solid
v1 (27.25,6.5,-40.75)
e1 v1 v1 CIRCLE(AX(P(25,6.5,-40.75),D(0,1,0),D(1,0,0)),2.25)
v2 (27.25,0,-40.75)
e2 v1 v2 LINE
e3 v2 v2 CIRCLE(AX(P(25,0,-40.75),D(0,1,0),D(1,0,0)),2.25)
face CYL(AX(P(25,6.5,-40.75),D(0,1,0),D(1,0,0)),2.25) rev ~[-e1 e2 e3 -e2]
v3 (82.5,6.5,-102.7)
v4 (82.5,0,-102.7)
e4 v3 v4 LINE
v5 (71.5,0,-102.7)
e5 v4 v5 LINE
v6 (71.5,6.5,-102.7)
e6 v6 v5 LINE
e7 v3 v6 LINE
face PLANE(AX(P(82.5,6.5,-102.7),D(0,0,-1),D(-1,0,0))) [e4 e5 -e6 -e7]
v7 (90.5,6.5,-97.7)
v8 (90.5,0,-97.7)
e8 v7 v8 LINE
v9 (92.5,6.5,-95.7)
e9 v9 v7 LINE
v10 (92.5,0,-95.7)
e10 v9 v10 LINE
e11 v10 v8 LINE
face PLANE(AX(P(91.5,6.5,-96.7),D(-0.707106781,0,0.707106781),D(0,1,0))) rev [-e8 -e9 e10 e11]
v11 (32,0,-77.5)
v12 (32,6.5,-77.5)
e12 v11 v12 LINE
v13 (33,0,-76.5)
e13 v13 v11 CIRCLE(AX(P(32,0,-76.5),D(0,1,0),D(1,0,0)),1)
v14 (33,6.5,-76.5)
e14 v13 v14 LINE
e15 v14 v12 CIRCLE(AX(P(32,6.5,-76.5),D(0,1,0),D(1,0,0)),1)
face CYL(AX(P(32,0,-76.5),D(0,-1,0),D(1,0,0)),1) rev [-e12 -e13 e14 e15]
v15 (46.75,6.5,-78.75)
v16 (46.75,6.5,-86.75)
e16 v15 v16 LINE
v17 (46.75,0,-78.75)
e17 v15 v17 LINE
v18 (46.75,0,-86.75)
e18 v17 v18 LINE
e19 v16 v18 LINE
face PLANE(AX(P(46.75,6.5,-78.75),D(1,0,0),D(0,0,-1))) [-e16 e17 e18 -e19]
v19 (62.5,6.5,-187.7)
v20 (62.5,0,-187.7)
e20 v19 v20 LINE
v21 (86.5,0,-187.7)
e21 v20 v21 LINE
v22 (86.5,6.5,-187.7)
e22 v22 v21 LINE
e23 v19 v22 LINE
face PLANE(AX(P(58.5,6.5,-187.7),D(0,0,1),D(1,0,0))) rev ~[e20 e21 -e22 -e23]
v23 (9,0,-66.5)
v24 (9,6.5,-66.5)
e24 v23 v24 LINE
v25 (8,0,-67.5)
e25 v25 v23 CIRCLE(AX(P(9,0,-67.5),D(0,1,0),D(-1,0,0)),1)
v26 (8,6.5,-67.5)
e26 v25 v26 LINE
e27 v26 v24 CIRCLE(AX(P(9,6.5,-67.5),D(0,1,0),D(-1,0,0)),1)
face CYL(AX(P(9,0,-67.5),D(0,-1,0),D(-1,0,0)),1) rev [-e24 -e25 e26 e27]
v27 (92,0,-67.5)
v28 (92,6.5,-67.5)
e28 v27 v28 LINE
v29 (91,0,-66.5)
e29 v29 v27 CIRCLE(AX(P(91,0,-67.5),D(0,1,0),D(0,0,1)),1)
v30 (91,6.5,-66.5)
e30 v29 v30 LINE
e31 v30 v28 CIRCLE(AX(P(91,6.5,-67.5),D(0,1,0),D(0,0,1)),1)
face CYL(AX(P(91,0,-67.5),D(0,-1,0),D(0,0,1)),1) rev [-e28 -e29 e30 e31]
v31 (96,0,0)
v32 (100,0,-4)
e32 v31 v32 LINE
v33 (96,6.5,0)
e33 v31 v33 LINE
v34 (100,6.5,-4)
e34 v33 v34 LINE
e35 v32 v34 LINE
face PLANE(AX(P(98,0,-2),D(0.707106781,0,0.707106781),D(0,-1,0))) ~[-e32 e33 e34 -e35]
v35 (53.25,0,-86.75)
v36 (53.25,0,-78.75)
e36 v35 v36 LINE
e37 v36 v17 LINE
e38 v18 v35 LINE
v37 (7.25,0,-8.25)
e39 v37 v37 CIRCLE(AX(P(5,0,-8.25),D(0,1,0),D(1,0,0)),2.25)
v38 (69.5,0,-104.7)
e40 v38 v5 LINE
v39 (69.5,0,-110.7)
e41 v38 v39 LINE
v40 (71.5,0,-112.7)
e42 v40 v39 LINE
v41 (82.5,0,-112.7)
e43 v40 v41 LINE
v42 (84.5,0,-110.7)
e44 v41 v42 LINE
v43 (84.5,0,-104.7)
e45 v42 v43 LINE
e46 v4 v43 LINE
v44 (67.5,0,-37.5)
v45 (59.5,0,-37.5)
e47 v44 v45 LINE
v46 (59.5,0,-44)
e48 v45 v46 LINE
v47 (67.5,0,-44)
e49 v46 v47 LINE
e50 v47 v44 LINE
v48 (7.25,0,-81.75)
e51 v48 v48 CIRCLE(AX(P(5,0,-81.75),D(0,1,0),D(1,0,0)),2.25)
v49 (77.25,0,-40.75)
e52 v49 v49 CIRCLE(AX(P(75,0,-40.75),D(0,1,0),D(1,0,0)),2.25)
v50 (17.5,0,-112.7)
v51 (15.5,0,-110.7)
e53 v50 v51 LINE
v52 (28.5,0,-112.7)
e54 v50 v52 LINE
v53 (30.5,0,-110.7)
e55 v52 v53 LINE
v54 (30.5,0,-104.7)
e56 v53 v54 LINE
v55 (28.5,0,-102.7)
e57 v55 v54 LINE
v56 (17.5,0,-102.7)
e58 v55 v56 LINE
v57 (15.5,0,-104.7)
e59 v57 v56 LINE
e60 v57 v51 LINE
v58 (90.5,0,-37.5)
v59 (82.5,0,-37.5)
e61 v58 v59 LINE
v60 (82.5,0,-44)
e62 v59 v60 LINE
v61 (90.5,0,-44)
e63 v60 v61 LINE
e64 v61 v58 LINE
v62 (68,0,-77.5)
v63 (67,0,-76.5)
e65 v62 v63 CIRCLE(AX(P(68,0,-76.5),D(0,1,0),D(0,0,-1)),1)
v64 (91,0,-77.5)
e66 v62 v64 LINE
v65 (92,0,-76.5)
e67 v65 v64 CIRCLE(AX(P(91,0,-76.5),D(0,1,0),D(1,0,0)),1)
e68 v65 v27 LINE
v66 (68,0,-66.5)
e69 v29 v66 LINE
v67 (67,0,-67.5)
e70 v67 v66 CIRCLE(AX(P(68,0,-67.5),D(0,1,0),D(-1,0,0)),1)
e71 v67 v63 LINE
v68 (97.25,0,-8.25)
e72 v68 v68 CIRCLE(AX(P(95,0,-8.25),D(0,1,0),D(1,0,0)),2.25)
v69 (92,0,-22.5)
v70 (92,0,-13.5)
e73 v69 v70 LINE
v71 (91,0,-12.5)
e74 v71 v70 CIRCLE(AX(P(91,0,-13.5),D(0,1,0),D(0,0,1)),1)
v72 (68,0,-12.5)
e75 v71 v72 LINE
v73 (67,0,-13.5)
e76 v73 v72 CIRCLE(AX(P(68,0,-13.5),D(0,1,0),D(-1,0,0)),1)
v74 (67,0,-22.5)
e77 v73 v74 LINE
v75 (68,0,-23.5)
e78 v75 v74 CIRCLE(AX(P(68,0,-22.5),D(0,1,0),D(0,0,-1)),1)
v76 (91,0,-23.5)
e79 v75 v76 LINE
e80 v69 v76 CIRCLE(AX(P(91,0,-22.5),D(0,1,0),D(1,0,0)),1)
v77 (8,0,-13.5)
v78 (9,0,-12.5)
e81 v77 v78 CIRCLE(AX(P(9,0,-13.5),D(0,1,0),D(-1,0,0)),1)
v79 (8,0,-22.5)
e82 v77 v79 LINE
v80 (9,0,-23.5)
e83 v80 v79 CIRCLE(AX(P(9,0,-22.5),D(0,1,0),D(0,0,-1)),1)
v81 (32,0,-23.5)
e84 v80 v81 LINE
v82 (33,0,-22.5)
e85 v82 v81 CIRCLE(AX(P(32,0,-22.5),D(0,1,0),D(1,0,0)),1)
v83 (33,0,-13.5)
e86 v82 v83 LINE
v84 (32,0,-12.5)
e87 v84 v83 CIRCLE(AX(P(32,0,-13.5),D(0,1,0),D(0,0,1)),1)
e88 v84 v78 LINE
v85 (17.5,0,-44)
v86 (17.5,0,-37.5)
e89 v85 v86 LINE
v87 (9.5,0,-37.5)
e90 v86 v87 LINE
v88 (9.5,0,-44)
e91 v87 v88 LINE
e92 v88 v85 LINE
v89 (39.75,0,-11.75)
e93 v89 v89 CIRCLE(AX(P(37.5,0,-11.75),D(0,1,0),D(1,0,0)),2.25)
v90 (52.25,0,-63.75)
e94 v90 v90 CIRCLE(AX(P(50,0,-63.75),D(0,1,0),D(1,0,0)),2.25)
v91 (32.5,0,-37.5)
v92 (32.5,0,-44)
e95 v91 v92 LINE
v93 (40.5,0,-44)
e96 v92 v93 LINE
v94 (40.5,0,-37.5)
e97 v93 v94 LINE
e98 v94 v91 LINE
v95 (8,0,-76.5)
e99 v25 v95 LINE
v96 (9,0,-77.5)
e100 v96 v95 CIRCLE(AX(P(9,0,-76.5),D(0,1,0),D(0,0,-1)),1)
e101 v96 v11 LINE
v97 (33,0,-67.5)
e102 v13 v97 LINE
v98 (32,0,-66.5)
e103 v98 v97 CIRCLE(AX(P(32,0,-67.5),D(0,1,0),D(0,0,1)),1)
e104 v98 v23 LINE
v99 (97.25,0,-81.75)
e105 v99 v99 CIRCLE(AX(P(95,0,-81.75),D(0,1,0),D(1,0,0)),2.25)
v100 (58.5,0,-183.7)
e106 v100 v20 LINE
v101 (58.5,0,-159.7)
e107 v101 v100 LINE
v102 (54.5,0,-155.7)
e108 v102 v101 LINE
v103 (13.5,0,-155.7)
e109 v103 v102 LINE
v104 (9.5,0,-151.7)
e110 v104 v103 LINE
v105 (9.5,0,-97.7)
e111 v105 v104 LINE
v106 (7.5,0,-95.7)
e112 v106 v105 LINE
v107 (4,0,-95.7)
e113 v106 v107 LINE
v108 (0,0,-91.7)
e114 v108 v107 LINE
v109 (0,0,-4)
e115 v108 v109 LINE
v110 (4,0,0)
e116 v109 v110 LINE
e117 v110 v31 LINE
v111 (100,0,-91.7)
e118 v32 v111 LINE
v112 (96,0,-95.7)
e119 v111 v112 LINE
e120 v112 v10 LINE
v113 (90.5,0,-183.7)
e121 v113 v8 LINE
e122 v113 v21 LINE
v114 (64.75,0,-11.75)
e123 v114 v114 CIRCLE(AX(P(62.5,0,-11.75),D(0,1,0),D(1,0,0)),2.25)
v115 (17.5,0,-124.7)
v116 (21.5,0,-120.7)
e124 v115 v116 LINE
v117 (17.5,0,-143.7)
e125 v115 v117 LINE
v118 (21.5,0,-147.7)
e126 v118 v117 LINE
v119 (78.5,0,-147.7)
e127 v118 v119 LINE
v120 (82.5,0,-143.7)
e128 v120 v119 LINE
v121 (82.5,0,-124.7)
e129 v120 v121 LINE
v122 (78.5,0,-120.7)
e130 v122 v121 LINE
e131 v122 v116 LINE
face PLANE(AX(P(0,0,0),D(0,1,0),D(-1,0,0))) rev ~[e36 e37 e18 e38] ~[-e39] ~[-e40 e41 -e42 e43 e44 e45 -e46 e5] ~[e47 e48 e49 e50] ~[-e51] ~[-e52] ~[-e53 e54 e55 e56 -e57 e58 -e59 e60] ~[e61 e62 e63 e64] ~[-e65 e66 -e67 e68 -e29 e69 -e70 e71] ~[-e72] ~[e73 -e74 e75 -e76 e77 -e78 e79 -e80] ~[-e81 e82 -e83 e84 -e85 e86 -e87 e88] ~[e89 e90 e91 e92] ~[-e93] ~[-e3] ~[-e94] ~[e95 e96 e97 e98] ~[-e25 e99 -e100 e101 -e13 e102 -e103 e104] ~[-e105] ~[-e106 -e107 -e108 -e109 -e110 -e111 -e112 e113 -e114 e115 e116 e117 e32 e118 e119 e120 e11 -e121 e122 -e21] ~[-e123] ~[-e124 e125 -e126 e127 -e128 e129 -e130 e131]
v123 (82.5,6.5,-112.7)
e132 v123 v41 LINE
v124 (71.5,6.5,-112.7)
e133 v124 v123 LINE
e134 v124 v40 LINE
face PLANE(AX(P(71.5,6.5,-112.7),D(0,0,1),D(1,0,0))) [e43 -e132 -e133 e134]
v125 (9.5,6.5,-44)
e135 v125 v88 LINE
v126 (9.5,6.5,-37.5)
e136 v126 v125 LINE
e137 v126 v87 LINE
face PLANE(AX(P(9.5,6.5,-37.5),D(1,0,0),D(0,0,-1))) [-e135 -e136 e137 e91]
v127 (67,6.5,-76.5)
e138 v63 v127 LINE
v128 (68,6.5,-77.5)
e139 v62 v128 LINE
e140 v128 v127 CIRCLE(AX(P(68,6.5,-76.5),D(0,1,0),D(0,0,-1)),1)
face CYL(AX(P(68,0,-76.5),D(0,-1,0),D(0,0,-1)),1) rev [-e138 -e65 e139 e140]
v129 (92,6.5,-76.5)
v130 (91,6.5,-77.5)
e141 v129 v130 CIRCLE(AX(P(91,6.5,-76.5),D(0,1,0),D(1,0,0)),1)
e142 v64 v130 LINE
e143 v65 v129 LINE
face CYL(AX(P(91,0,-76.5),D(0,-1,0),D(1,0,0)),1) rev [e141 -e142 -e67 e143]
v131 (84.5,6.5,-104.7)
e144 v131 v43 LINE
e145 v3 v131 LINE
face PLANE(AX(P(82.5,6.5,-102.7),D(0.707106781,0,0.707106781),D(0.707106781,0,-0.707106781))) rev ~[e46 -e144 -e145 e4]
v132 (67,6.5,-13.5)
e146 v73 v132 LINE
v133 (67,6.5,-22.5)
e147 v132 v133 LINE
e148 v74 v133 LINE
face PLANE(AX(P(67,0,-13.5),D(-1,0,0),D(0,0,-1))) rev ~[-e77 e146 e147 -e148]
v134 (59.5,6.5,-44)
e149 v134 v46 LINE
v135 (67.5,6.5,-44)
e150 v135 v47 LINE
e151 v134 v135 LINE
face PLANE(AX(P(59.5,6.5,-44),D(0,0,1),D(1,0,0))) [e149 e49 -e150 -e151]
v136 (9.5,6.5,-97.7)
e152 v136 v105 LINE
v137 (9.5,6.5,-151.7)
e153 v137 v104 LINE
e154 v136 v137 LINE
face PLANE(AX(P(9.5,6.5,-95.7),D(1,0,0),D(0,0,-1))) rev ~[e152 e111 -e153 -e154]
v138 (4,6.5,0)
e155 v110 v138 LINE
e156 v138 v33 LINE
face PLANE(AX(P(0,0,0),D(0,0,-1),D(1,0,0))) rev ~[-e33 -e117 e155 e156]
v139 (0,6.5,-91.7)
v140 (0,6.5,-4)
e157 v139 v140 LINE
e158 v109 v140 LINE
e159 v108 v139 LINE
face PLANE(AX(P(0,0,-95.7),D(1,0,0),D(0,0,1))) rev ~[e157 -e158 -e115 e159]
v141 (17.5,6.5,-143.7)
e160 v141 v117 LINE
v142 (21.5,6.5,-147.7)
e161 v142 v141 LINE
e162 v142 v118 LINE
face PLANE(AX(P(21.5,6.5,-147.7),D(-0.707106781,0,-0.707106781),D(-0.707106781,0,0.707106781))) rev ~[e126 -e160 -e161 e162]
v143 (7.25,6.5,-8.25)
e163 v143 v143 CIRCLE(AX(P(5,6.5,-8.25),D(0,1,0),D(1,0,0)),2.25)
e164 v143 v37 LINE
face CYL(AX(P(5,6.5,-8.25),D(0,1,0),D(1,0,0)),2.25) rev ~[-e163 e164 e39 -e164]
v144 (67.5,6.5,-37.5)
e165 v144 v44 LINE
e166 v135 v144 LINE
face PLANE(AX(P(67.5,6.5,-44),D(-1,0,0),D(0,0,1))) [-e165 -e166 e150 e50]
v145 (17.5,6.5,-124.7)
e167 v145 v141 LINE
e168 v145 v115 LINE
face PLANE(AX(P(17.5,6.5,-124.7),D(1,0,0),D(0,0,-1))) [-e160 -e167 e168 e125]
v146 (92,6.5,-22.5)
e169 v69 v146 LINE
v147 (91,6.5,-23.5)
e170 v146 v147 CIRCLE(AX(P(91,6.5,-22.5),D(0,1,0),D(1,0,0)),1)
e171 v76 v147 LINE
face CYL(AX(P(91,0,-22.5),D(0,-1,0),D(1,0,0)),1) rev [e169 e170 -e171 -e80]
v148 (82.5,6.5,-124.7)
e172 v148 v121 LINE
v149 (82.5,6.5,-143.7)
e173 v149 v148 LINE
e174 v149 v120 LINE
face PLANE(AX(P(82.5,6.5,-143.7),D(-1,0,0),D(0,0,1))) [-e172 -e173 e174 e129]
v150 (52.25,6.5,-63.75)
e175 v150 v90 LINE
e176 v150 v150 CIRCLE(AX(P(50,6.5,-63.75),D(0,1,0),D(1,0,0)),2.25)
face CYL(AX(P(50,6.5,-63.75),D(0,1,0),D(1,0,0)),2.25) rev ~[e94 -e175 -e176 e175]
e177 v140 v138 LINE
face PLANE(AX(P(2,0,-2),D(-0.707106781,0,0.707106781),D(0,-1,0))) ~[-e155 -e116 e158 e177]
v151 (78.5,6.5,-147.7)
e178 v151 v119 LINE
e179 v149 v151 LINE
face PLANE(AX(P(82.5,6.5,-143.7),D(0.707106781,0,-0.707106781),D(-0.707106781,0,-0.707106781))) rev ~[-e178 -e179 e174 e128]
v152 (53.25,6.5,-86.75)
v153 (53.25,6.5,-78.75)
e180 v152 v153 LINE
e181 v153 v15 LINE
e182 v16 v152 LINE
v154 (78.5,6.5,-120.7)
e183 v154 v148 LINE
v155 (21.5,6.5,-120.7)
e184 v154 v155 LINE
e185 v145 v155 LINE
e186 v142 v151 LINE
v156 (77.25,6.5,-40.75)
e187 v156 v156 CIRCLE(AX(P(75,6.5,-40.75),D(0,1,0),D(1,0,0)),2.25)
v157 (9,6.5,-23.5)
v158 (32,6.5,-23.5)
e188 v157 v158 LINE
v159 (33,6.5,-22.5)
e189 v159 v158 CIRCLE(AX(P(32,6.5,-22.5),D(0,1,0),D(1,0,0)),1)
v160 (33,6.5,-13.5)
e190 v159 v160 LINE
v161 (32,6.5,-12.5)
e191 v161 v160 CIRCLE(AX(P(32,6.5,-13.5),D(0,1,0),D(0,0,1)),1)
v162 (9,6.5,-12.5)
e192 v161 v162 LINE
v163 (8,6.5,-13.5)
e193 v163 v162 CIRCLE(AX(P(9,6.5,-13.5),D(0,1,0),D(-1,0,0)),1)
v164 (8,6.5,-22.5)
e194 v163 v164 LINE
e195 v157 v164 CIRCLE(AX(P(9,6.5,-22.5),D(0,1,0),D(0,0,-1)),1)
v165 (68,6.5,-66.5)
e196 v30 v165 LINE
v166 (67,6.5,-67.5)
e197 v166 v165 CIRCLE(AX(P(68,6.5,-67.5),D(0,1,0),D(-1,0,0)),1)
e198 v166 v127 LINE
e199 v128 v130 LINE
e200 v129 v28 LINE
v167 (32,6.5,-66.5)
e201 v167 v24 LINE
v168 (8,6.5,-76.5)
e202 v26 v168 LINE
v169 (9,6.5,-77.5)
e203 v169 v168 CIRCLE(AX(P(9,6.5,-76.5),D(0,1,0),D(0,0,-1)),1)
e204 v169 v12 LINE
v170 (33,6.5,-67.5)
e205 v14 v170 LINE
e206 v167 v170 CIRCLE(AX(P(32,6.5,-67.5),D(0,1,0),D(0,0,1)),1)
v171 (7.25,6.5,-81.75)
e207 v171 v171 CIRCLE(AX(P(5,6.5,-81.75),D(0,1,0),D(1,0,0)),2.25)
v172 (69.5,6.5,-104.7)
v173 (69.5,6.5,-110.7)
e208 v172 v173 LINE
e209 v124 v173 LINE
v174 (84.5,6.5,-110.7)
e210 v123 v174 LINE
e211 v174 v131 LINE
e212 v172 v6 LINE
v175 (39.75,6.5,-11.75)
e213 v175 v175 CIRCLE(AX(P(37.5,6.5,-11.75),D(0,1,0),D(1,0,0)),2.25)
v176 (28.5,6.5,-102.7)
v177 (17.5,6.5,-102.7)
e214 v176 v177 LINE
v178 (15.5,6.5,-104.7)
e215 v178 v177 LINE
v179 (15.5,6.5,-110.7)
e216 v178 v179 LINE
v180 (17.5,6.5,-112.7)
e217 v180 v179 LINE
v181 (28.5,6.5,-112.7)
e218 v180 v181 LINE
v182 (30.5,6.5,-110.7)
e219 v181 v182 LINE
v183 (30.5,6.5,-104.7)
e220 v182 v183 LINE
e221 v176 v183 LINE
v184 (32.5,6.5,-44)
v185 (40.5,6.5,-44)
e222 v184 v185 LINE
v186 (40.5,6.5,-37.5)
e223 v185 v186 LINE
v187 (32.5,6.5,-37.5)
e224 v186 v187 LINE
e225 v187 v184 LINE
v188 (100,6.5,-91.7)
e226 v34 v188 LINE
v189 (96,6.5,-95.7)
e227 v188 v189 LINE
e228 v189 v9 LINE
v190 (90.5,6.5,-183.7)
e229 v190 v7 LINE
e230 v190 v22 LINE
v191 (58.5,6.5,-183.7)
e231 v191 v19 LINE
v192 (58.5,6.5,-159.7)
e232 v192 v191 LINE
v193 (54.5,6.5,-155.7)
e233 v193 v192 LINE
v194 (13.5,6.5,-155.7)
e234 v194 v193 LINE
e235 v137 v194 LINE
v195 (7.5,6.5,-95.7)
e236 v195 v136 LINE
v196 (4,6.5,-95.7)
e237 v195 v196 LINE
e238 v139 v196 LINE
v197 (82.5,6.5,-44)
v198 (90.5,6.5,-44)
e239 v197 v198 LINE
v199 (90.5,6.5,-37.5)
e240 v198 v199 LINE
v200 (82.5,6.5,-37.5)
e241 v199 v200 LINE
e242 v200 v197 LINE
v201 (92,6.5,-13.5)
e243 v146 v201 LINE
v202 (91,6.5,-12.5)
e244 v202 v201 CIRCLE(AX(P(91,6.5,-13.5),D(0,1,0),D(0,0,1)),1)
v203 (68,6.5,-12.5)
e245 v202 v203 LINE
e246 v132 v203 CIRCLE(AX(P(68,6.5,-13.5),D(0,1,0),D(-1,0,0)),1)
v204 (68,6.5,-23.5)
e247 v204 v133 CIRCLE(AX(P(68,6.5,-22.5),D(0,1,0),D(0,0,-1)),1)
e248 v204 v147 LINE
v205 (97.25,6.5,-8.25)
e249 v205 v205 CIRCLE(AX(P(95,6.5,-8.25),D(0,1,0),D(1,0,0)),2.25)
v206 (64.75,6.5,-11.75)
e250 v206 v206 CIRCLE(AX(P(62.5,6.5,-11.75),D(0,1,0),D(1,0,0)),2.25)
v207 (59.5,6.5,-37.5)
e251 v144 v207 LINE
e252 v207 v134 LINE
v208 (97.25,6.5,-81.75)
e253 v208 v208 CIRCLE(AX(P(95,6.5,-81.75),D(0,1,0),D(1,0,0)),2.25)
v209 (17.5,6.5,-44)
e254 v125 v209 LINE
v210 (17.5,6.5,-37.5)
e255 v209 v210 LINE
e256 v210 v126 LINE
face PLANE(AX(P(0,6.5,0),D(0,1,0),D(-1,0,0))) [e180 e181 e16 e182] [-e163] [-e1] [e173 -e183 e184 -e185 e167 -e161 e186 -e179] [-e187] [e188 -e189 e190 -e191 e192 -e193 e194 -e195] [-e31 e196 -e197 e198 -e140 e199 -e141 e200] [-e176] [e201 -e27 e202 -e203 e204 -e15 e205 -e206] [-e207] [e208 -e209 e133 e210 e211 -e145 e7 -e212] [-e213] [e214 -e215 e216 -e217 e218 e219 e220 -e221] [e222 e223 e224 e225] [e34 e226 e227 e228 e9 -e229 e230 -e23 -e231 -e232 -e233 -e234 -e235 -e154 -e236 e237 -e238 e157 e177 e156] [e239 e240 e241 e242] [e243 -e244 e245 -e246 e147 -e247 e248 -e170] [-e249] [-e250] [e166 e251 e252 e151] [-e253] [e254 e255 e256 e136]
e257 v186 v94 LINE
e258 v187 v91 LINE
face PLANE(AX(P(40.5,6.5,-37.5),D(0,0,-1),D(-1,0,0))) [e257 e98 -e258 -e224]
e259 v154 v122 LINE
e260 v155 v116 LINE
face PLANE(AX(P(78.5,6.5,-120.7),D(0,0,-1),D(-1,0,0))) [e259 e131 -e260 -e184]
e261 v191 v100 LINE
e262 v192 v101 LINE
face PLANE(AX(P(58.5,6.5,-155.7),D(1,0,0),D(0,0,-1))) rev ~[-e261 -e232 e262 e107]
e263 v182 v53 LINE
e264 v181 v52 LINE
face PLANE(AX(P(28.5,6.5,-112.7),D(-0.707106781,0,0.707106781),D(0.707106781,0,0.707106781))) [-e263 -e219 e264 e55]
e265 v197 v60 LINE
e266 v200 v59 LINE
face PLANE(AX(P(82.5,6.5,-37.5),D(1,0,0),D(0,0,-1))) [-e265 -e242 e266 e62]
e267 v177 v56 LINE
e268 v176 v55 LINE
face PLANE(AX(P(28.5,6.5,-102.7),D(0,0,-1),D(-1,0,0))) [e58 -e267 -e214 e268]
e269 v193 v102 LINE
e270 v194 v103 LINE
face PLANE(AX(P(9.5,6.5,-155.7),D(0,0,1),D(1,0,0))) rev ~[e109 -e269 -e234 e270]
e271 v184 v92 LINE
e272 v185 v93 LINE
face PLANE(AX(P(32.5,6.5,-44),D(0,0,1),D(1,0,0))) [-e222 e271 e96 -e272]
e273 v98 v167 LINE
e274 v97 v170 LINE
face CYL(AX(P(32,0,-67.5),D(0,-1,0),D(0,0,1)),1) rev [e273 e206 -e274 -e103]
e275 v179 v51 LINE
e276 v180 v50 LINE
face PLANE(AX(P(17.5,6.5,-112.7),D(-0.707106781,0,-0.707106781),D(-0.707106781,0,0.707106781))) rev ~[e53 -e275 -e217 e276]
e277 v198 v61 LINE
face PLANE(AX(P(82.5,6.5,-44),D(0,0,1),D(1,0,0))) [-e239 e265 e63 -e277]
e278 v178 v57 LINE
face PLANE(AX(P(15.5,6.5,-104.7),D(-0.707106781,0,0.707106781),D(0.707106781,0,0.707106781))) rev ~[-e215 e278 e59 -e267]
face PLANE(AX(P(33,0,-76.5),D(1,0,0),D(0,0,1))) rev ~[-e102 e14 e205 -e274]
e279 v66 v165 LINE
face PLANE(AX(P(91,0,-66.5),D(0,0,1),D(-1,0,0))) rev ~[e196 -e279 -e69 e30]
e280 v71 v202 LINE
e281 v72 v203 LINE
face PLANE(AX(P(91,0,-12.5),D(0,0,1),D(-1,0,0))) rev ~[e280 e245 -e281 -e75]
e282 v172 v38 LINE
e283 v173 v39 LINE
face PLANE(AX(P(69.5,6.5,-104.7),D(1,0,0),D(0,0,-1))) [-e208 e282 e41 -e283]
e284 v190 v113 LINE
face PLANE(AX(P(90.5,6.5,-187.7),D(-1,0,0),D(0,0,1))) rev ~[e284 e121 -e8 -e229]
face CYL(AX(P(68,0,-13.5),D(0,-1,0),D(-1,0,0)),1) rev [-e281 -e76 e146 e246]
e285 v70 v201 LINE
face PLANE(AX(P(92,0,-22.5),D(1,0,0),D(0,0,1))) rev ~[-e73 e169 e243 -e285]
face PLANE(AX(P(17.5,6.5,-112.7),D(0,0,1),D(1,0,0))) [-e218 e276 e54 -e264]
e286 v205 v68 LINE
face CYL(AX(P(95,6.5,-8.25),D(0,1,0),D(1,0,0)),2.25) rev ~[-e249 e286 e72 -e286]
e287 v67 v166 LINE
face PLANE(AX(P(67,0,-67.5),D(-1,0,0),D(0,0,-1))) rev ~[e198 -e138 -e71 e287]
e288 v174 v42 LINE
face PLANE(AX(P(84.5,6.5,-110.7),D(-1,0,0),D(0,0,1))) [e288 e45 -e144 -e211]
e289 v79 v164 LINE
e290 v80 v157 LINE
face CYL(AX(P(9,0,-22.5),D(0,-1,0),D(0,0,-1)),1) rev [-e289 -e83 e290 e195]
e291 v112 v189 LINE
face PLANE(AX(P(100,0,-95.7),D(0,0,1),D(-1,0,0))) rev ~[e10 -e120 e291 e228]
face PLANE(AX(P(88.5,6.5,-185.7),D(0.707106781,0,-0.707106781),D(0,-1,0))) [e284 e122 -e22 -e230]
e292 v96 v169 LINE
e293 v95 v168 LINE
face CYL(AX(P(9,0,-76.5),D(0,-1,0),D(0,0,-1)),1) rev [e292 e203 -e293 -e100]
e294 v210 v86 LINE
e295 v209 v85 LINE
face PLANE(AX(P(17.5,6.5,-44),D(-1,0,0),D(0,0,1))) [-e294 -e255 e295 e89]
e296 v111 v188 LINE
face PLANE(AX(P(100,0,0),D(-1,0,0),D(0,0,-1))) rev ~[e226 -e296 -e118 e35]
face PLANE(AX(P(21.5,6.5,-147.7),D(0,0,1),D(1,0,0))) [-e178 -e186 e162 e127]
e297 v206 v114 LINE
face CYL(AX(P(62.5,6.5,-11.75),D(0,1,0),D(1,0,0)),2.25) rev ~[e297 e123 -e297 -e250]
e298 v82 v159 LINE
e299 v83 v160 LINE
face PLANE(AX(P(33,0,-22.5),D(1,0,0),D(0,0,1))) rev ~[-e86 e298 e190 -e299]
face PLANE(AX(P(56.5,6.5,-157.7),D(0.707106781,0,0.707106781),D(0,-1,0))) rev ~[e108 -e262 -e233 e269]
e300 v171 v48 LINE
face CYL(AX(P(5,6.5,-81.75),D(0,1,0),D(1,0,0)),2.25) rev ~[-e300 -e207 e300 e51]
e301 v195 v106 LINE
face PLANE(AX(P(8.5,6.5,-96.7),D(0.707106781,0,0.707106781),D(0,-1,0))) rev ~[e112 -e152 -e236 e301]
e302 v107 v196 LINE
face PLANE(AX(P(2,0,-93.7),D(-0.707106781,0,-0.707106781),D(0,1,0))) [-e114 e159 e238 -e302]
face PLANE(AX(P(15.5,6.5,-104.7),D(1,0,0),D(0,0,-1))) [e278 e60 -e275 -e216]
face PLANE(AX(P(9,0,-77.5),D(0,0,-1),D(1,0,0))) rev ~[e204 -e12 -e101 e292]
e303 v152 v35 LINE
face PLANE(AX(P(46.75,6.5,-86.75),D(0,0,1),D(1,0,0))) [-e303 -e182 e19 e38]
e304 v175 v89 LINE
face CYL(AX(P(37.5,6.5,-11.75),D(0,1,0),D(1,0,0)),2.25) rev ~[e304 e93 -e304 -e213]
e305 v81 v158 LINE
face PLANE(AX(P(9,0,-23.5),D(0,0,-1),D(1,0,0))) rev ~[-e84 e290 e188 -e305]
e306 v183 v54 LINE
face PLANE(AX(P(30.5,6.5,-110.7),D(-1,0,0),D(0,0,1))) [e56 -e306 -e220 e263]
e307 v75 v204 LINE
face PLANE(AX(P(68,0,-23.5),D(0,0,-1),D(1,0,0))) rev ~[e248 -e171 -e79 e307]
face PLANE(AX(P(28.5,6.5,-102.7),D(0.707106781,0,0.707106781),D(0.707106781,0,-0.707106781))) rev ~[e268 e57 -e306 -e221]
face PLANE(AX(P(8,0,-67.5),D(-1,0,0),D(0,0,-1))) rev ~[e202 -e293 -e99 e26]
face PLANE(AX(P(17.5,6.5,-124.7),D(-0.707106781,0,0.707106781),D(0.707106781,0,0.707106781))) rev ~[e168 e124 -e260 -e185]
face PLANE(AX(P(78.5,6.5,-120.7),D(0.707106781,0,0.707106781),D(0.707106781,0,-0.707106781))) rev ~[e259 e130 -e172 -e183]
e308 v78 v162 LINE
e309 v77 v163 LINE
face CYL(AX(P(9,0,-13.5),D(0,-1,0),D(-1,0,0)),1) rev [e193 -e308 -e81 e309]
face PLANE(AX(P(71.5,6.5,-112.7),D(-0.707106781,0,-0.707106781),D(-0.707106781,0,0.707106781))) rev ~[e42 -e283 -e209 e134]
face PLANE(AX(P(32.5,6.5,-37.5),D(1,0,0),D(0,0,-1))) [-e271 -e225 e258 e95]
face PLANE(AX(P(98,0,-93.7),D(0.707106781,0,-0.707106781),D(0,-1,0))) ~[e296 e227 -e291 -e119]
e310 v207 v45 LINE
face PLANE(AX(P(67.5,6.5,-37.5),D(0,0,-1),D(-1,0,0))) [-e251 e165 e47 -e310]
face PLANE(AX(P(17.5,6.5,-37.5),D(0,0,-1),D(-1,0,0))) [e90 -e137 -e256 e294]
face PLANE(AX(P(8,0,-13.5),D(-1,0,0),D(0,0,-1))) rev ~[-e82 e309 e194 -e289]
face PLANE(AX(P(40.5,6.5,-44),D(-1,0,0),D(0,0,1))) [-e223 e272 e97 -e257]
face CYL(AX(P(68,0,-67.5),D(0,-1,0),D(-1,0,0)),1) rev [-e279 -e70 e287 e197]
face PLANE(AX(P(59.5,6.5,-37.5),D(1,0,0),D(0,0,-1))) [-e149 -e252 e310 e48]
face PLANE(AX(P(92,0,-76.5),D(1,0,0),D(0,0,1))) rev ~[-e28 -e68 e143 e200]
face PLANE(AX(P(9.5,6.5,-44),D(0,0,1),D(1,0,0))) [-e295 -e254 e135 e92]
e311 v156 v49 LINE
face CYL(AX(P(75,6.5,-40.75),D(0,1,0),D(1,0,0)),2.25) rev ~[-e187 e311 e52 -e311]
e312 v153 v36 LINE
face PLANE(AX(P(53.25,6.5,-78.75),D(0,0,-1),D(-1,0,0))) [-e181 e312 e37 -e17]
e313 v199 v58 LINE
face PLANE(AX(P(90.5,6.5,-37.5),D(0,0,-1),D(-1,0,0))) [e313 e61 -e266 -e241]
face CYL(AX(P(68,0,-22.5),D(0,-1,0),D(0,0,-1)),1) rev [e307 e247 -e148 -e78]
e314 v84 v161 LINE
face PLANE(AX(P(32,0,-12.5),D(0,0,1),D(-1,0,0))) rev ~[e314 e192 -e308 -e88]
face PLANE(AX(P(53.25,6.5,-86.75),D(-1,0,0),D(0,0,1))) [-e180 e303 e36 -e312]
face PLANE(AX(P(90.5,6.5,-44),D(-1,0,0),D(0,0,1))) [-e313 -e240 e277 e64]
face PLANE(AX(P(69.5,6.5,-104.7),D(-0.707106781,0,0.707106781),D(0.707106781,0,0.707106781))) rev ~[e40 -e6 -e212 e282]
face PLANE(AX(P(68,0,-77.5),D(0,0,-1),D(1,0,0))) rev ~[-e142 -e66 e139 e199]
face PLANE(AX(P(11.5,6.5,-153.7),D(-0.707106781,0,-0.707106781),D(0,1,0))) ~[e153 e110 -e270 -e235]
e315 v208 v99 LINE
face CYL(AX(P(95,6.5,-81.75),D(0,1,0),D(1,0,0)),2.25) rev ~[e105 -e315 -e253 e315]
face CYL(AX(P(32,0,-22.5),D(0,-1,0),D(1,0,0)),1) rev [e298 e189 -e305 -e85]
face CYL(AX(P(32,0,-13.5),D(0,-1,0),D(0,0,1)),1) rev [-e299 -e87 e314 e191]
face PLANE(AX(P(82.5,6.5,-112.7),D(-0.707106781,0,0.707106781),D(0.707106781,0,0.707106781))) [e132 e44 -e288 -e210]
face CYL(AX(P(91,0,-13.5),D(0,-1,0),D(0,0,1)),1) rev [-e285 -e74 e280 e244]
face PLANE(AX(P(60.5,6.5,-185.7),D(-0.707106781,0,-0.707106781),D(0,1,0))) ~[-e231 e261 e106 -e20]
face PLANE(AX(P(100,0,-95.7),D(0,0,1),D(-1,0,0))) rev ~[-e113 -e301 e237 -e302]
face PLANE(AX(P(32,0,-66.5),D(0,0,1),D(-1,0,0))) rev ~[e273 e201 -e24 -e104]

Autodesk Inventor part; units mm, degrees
ref_plane "YZ Plane" through (0, 0, 0) normal (1, 0, 0) x (0, 1, 0)
ref_plane "XZ Plane" through (0, 0, 0) normal (0, 1, 0) x (-1, 0, 0)
ref_plane "XY Plane" through (0, 0, 0) normal (0, 0, 1) x (1, 0, 0)
sketch "Sketch1" plane through (0, 0, 0) normal (0, 1, 0) x (-1, 0, 0)
  line L0 (0, 0) -> (-100, 0)
  line L1 (-100, 0) -> (-100, -95.7)
  line L2 (-100, -95.7) -> (0, -95.7)
  line L3 (0, -95.7) -> (0, 0)
  line L4 (-9, -77.5) -> (-32, -77.5)
  line L5 (-33, -76.5) -> (-33, -67.5)
  line L6 (-32, -66.5) -> (-9, -66.5)
  line L7 (-8, -67.5) -> (-8, -76.5)
  arc A0 (-9, -77.5) -> (-8, -76.5) centre (-9, -76.5) ccw
  arc A1 (-33, -76.5) -> (-32, -77.5) centre (-32, -76.5) ccw
  arc A2 (-32, -66.5) -> (-33, -67.5) centre (-32, -67.5) ccw
  arc A3 (-8, -67.5) -> (-9, -66.5) centre (-9, -67.5) ccw
  line L8 (-68, -77.5) -> (-91, -77.5)
  line L9 (-92, -76.5) -> (-92, -67.5)
  line L10 (-91, -66.5) -> (-68, -66.5)
  line L11 (-67, -67.5) -> (-67, -76.5)
  arc A4 (-68, -77.5) -> (-67, -76.5) centre (-68, -76.5) ccw
  arc A5 (-92, -76.5) -> (-91, -77.5) centre (-91, -76.5) ccw
  arc A6 (-91, -66.5) -> (-92, -67.5) centre (-91, -67.5) ccw
  arc A7 (-67, -67.5) -> (-68, -66.5) centre (-68, -67.5) ccw
  line L12 (-9, -23.5) -> (-32, -23.5)
  line L13 (-33, -22.5) -> (-33, -13.5)
  line L14 (-32, -12.5) -> (-9, -12.5)
  line L15 (-8, -13.5) -> (-8, -22.5)
  arc A8 (-9, -23.5) -> (-8, -22.5) centre (-9, -22.5) ccw
  arc A9 (-33, -22.5) -> (-32, -23.5) centre (-32, -22.5) ccw
  arc A10 (-32, -12.5) -> (-33, -13.5) centre (-32, -13.5) ccw
  arc A11 (-8, -13.5) -> (-9, -12.5) centre (-9, -13.5) ccw
  line L16 (-68, -23.5) -> (-91, -23.5)
  line L17 (-92, -22.5) -> (-92, -13.5)
  line L18 (-91, -12.5) -> (-68, -12.5)
  line L19 (-67, -13.5) -> (-67, -22.5)
  arc A12 (-68, -23.5) -> (-67, -22.5) centre (-68, -22.5) ccw
  arc A13 (-92, -22.5) -> (-91, -23.5) centre (-91, -22.5) ccw
  arc A14 (-91, -12.5) -> (-92, -13.5) centre (-91, -13.5) ccw
  arc A15 (-67, -13.5) -> (-68, -12.5) centre (-68, -13.5) ccw
  line L20 (-8, -18) -> (-92, -18) construction
  line L21 (-92, -72) -> (-8, -72) construction
  point P0 (-50, -18)
  point P1 (-50, 0)
  dimension "d0" = 100
  dimension "d1" = 1
  dimension "d2" = 11
  dimension "d3" = 25
  dimension "d4" = 1
  dimension "d5" = 11
  dimension "d6" = 25
  dimension "d7" = 1
  dimension "d8" = 11
  dimension "d9" = 25
  dimension "d10" = 1
  dimension "d11" = 11
  dimension "d12" = 25
  dimension "d13" = 54
  dimension "d14" = 8
  dimension "d15" = 95.7
  dimension "d16" = 18
extrude "Extrusion1" add sketch "Sketch1" along normal blind 6.5
sketch "Sketch2" plane through (0, 6.5, 0) normal (0, 1, 0) x (1, 0, 0)
  line L0 (0, 0) -> (100, 0) projected
  line L1 (100, 0) -> (100, 95.7) projected
  line L2 (0, 95.7) -> (0, 0) projected
  line L3 (0, 44) -> (100, 44) construction
  line L4 (100, 44) -> (100, 37.5) construction
  line L5 (100, 37.5) -> (0, 37.5) construction
  line L6 (0, 37.5) -> (0, 44) construction
  line L7 (9.5, 44) -> (17.5, 44)
  line L8 (17.5, 44) -> (17.5, 37.5)
  line L9 (17.5, 37.5) -> (9.5, 37.5)
  line L10 (9.5, 37.5) -> (9.5, 44)
  line L11 (32.5, 44) -> (40.5, 44)
  line L12 (40.5, 44) -> (40.5, 37.5)
  line L13 (40.5, 37.5) -> (32.5, 37.5)
  line L14 (32.5, 37.5) -> (32.5, 44)
  line L15 (59.5, 44) -> (67.5, 44)
  line L16 (67.5, 44) -> (67.5, 37.5)
  line L17 (67.5, 37.5) -> (59.5, 37.5)
  line L18 (59.5, 37.5) -> (59.5, 44)
  line L19 (82.5, 44) -> (90.5, 44)
  line L20 (90.5, 44) -> (90.5, 37.5)
  line L21 (90.5, 37.5) -> (82.5, 37.5)
  line L22 (82.5, 37.5) -> (82.5, 44)
  line L23 (17.5, 44) -> (32.5, 37.5) construction
  line L24 (32.5, 44) -> (17.5, 37.5) construction
  line L25 (67.5, 44) -> (82.5, 37.5) construction
  line L26 (82.5, 44) -> (67.5, 37.5) construction
  circle A0 centre (25, 40.75) radius 2.25
  circle A1 centre (75, 40.75) radius 2.25
  line L27 (40.5, 40.75) -> (59.5, 40.75) construction
  point P0 (50, 40.75)
  point P1 (50, 0)
  dimension "d19" = 6.5
  dimension "d20" = 37.5
  dimension "d21" = 8
  dimension "d22" = 8
  dimension "d23" = 8
  dimension "d24" = 8
  dimension "d25" = 15
  dimension "d26" = 15
  dimension "d27" = 4.5
  dimension "d28" = 4.5
  dimension "d41" = 50
extrude "Extrusion2" cut sketch "Sketch2" against normal through all
sketch "Sketch5" plane through (0, 6.5, 0) normal (0, 1, 0) x (1, 0, 0)
  line L0 (100, 95.7) -> (0, 95.7) projected
  line L1 (0, 95.7) -> (0, 0) projected
  line L2 (9.5, 95.7) -> (9.5, 155.7)
  line L3 (9.5, 155.7) -> (58.5, 155.7)
  line L4 (58.5, 155.7) -> (58.5, 187.7)
  line L5 (58.5, 187.7) -> (90.5, 187.7)
  line L6 (90.5, 187.7) -> (90.5, 95.7)
  line L7 (9.5, 95.7) -> (90.5, 95.7)
  point P0 (50, 95.7)
  point P1 (50, 95.7)
  dimension "d42" = 92
  dimension "d43" = 32
  dimension "d44" = 9.5
extrude "Extrusion4" add sketch "Sketch5" against normal blind 6.5
sketch "Sketch6" plane through (0, 6.5, 0) normal (0, 1, 0) x (1, 0, 0)
  line L0 (90.5, 95.7) -> (90.5, 187.7) projected
  line L1 (9.5, 155.7) -> (9.5, 95.7) projected
  line L2 (9.5, 95.7) -> (0, 95.7) projected
  line L3 (17.5, 112.7) -> (28.5, 112.7)
  line L4 (30.5, 110.7) -> (30.5, 104.7)
  line L5 (28.5, 102.7) -> (17.5, 102.7)
  line L6 (15.5, 104.7) -> (15.5, 110.7)
  line L7 (17.5, 112.7) -> (15.5, 110.7)
  line L8 (15.5, 104.7) -> (17.5, 102.7)
  line L9 (28.5, 102.7) -> (30.5, 104.7)
  line L10 (28.5, 112.7) -> (30.5, 110.7)
  line L11 (71.5, 112.7) -> (82.5, 112.7)
  line L12 (84.5, 110.7) -> (84.5, 104.7)
  line L13 (82.5, 102.7) -> (71.5, 102.7)
  line L14 (69.5, 104.7) -> (69.5, 110.7)
  line L15 (71.5, 112.7) -> (69.5, 110.7)
  line L16 (69.5, 104.7) -> (71.5, 102.7)
  line L17 (82.5, 102.7) -> (84.5, 104.7)
  line L18 (82.5, 112.7) -> (84.5, 110.7)
  point P0 (15.5, 112.7)
  point P1 (30.5, 102.7)
  point P2 (30.5, 112.7)
  point P3 (15.5, 102.7)
  point P4 (69.5, 112.7)
  point P5 (84.5, 102.7)
  point P6 (84.5, 112.7)
  point P7 (69.5, 102.7)
  point P8 (15.5, 107.7)
  dimension "d47" = 2
  dimension "d48" = 2
  dimension "d49" = 2
  dimension "d50" = 2
  dimension "d51" = 2
  dimension "d52" = 2
  dimension "d53" = 2
  dimension "d54" = 2
  dimension "d55" = 10
  dimension "d56" = 2
  dimension "d57" = 2
  dimension "d58" = 2
  dimension "d59" = 2
  dimension "d60" = 2
  dimension "d61" = 2
  dimension "d62" = 2
  dimension "d63" = 2
  dimension "d64" = 10
  dimension "d65" = 12
  dimension "d66" = 15
  dimension "d67" = 15
  dimension "d68" = 6
  dimension "d69" = 6
extrude "Extrusion5" cut sketch "Sketch6" against normal through all
sketch "Sketch7" plane through (0, 6.5, 0) normal (0, 1, 0) x (1, 0, 0)
  line L0 (17.5, 112.7) -> (28.5, 112.7) projected
  line L1 (90.5, 95.7) -> (90.5, 187.7) projected
  line L2 (58.5, 155.7) -> (9.5, 155.7) projected
  line L3 (9.5, 155.7) -> (9.5, 95.7) projected
  line L4 (21.5, 147.7) -> (78.5, 147.7)
  line L5 (82.5, 143.7) -> (82.5, 124.7)
  line L6 (78.5, 120.7) -> (21.5, 120.7)
  line L7 (17.5, 124.7) -> (17.5, 143.7)
  line L8 (21.5, 147.7) -> (17.5, 143.7)
  line L9 (17.5, 124.7) -> (21.5, 120.7)
  line L10 (78.5, 120.7) -> (82.5, 124.7)
  line L11 (82.5, 143.7) -> (78.5, 147.7)
  point P0 (17.5, 147.7)
  point P1 (82.5, 120.7)
  point P2 (82.5, 147.7)
  point P3 (17.5, 120.7)
  dimension "d72" = 4
  dimension "d73" = 4
  dimension "d74" = 4
  dimension "d75" = 4
  dimension "d76" = 4
  dimension "d77" = 4
  dimension "d78" = 4
  dimension "d79" = 4
  dimension "d80" = 8
  dimension "d81" = 8
  dimension "d82" = 8
  dimension "d83" = 8
extrude "Extrusion6" cut sketch "Sketch7" against normal through all
chamfer "Chamfer2" distance 4 angle 45 8 edges at (100, 3.25, 0) (0, 3.25, 0) (100, 3.25, -95.7) (90.5, 3.25, -187.7) (58.5, 3.25, -187.7) (58.5, 3.25, -155.7) (9.5, 3.25, -155.7) (0, 3.25, -95.7)
chamfer "Chamfer3" distance 2 angle 45 2 edges at (9.5, 3.25, -95.7) (90.5, 3.25, -95.7)
sketch "Sketch8" plane through (0, 6.5, 0) normal (0, 1, 0) x (1, 0, 0)
  line L0 (4, 0) -> (96, 0) projected
  line L1 (9, 77.5) -> (32, 77.5) projected
  circle A0 centre (37.5, 11.75) radius 2.25
  circle A1 centre (62.5, 11.75) radius 2.25
  line L2 (37.5, 11.75) -> (62.5, 11.75) construction
  point P0 (0, 0)
  point P1 (50, 11.75)
  point P2 (50, 0)
  dimension "d92" = 4.5
  dimension "d93" = 11.75
  dimension "d94" = 25
extrude "Extrusion7" cut sketch "Sketch8" against normal through all
sketch "Sketch10" plane through (0, 6.5, 0) normal (0, 1, 0) x (1, 0, 0)
  line L0 (0, 91.7) -> (0, 4) projected
  line L1 (4, 0) -> (96, 0) projected
  line L2 (100, 4) -> (100, 91.7) projected
  line L3 (32, 12.5) -> (9, 12.5) projected
  line L4 (8, 67.5) -> (8, 76.5) projected
  line L5 (9, 77.5) -> (32, 77.5) projected
  line L6 (5, 81.75) -> (95, 81.75) construction
  line L7 (95, 81.75) -> (95, 8.25) construction
  line L8 (95, 8.25) -> (5, 8.25) construction
  line L9 (5, 8.25) -> (5, 81.75) construction
  circle A0 centre (5, 81.75) radius 4.5 construction
  circle A1 centre (95, 81.75) radius 4.5 construction
  circle A2 centre (95, 8.25) radius 4.5 construction
  circle A3 centre (5, 8.25) radius 4.5 construction
  circle A4 centre (5, 81.75) radius 2.25
  circle A5 centre (95, 81.75) radius 2.25
  circle A6 centre (95, 8.25) radius 2.25
  circle A7 centre (5, 8.25) radius 2.25
  point P0 (0, 0)
  dimension "d102" = 9
  dimension "d103" = 4.5
  dimension "d104" = 8
  dimension "d105" = 5
  dimension "d106" = 5
  dimension "d107" = 12.5
  dimension "d108" = 8.25
  dimension "d110" = 4.25
extrude "Extrusion9" cut sketch "Sketch10" against normal through all
sketch "Sketch11" plane through (0, 6.5, 0) normal (0, 1, 0) x (1, 0, 0)
  line L0 (4, 0) -> (96, 0) projected
  line L1 (92, 76.5) -> (92, 67.5) projected
  line L2 (8, 67.5) -> (8, 76.5) projected
  line L3 (8, 76) -> (92, 76) construction
  line L4 (8, 68) -> (92, 68) construction
  circle A0 centre (50, 63.75) radius 2.25
  line L5 (46.75, 86.75) -> (53.25, 86.75)
  line L6 (53.25, 86.75) -> (53.25, 78.75)
  line L7 (53.25, 78.75) -> (46.75, 78.75)
  line L8 (46.75, 78.75) -> (46.75, 86.75)
  point P0 (0, 0)
  point P1 (92, 72)
  point P2 (50, 0)
  point P3 (50, 78.75)
  dimension "d113" = 8
  dimension "d114" = 4
  dimension "d115" = 4.5
  dimension "d116" = 4.25
  dimension "d117" = 6.5
  dimension "d118" = 8
  dimension "d119" = 15
extrude "Extrusion10" cut sketch "Sketch11" against normal through all
equation "\"d22\" = d21"
equation "\"d23\" = d22"
equation "\"d24\" = d23"
equation "\"d48\" = d47"
equation "\"d49\" = d47"
equation "\"d50\" = d49"
equation "\"d51\" = d47"
equation "\"d52\" = d51"
equation "\"d53\" = d47"
equation "\"d54\" = d53"
equation "\"d57\" = d56"
equation "\"d58\" = d56"
equation "\"d59\" = d58"
equation "\"d60\" = d56"
equation "\"d61\" = d60"
equation "\"d62\" = d56"
equation "\"d63\" = d62"
equation "\"d67\" = d66"
equation "\"d69\" = d68"
equation "\"d73\" = d72"
equation "\"d74\" = d72"
equation "\"d75\" = d74"
equation "\"d76\" = d72"
equation "\"d77\" = d76"
equation "\"d78\" = d72"
equation "\"d79\" = d78"
equation "\"d81\" = d80"
equation "\"d82\" = d80"
equation "\"d83\" = d80"
properties part number "x_carryage_front"
